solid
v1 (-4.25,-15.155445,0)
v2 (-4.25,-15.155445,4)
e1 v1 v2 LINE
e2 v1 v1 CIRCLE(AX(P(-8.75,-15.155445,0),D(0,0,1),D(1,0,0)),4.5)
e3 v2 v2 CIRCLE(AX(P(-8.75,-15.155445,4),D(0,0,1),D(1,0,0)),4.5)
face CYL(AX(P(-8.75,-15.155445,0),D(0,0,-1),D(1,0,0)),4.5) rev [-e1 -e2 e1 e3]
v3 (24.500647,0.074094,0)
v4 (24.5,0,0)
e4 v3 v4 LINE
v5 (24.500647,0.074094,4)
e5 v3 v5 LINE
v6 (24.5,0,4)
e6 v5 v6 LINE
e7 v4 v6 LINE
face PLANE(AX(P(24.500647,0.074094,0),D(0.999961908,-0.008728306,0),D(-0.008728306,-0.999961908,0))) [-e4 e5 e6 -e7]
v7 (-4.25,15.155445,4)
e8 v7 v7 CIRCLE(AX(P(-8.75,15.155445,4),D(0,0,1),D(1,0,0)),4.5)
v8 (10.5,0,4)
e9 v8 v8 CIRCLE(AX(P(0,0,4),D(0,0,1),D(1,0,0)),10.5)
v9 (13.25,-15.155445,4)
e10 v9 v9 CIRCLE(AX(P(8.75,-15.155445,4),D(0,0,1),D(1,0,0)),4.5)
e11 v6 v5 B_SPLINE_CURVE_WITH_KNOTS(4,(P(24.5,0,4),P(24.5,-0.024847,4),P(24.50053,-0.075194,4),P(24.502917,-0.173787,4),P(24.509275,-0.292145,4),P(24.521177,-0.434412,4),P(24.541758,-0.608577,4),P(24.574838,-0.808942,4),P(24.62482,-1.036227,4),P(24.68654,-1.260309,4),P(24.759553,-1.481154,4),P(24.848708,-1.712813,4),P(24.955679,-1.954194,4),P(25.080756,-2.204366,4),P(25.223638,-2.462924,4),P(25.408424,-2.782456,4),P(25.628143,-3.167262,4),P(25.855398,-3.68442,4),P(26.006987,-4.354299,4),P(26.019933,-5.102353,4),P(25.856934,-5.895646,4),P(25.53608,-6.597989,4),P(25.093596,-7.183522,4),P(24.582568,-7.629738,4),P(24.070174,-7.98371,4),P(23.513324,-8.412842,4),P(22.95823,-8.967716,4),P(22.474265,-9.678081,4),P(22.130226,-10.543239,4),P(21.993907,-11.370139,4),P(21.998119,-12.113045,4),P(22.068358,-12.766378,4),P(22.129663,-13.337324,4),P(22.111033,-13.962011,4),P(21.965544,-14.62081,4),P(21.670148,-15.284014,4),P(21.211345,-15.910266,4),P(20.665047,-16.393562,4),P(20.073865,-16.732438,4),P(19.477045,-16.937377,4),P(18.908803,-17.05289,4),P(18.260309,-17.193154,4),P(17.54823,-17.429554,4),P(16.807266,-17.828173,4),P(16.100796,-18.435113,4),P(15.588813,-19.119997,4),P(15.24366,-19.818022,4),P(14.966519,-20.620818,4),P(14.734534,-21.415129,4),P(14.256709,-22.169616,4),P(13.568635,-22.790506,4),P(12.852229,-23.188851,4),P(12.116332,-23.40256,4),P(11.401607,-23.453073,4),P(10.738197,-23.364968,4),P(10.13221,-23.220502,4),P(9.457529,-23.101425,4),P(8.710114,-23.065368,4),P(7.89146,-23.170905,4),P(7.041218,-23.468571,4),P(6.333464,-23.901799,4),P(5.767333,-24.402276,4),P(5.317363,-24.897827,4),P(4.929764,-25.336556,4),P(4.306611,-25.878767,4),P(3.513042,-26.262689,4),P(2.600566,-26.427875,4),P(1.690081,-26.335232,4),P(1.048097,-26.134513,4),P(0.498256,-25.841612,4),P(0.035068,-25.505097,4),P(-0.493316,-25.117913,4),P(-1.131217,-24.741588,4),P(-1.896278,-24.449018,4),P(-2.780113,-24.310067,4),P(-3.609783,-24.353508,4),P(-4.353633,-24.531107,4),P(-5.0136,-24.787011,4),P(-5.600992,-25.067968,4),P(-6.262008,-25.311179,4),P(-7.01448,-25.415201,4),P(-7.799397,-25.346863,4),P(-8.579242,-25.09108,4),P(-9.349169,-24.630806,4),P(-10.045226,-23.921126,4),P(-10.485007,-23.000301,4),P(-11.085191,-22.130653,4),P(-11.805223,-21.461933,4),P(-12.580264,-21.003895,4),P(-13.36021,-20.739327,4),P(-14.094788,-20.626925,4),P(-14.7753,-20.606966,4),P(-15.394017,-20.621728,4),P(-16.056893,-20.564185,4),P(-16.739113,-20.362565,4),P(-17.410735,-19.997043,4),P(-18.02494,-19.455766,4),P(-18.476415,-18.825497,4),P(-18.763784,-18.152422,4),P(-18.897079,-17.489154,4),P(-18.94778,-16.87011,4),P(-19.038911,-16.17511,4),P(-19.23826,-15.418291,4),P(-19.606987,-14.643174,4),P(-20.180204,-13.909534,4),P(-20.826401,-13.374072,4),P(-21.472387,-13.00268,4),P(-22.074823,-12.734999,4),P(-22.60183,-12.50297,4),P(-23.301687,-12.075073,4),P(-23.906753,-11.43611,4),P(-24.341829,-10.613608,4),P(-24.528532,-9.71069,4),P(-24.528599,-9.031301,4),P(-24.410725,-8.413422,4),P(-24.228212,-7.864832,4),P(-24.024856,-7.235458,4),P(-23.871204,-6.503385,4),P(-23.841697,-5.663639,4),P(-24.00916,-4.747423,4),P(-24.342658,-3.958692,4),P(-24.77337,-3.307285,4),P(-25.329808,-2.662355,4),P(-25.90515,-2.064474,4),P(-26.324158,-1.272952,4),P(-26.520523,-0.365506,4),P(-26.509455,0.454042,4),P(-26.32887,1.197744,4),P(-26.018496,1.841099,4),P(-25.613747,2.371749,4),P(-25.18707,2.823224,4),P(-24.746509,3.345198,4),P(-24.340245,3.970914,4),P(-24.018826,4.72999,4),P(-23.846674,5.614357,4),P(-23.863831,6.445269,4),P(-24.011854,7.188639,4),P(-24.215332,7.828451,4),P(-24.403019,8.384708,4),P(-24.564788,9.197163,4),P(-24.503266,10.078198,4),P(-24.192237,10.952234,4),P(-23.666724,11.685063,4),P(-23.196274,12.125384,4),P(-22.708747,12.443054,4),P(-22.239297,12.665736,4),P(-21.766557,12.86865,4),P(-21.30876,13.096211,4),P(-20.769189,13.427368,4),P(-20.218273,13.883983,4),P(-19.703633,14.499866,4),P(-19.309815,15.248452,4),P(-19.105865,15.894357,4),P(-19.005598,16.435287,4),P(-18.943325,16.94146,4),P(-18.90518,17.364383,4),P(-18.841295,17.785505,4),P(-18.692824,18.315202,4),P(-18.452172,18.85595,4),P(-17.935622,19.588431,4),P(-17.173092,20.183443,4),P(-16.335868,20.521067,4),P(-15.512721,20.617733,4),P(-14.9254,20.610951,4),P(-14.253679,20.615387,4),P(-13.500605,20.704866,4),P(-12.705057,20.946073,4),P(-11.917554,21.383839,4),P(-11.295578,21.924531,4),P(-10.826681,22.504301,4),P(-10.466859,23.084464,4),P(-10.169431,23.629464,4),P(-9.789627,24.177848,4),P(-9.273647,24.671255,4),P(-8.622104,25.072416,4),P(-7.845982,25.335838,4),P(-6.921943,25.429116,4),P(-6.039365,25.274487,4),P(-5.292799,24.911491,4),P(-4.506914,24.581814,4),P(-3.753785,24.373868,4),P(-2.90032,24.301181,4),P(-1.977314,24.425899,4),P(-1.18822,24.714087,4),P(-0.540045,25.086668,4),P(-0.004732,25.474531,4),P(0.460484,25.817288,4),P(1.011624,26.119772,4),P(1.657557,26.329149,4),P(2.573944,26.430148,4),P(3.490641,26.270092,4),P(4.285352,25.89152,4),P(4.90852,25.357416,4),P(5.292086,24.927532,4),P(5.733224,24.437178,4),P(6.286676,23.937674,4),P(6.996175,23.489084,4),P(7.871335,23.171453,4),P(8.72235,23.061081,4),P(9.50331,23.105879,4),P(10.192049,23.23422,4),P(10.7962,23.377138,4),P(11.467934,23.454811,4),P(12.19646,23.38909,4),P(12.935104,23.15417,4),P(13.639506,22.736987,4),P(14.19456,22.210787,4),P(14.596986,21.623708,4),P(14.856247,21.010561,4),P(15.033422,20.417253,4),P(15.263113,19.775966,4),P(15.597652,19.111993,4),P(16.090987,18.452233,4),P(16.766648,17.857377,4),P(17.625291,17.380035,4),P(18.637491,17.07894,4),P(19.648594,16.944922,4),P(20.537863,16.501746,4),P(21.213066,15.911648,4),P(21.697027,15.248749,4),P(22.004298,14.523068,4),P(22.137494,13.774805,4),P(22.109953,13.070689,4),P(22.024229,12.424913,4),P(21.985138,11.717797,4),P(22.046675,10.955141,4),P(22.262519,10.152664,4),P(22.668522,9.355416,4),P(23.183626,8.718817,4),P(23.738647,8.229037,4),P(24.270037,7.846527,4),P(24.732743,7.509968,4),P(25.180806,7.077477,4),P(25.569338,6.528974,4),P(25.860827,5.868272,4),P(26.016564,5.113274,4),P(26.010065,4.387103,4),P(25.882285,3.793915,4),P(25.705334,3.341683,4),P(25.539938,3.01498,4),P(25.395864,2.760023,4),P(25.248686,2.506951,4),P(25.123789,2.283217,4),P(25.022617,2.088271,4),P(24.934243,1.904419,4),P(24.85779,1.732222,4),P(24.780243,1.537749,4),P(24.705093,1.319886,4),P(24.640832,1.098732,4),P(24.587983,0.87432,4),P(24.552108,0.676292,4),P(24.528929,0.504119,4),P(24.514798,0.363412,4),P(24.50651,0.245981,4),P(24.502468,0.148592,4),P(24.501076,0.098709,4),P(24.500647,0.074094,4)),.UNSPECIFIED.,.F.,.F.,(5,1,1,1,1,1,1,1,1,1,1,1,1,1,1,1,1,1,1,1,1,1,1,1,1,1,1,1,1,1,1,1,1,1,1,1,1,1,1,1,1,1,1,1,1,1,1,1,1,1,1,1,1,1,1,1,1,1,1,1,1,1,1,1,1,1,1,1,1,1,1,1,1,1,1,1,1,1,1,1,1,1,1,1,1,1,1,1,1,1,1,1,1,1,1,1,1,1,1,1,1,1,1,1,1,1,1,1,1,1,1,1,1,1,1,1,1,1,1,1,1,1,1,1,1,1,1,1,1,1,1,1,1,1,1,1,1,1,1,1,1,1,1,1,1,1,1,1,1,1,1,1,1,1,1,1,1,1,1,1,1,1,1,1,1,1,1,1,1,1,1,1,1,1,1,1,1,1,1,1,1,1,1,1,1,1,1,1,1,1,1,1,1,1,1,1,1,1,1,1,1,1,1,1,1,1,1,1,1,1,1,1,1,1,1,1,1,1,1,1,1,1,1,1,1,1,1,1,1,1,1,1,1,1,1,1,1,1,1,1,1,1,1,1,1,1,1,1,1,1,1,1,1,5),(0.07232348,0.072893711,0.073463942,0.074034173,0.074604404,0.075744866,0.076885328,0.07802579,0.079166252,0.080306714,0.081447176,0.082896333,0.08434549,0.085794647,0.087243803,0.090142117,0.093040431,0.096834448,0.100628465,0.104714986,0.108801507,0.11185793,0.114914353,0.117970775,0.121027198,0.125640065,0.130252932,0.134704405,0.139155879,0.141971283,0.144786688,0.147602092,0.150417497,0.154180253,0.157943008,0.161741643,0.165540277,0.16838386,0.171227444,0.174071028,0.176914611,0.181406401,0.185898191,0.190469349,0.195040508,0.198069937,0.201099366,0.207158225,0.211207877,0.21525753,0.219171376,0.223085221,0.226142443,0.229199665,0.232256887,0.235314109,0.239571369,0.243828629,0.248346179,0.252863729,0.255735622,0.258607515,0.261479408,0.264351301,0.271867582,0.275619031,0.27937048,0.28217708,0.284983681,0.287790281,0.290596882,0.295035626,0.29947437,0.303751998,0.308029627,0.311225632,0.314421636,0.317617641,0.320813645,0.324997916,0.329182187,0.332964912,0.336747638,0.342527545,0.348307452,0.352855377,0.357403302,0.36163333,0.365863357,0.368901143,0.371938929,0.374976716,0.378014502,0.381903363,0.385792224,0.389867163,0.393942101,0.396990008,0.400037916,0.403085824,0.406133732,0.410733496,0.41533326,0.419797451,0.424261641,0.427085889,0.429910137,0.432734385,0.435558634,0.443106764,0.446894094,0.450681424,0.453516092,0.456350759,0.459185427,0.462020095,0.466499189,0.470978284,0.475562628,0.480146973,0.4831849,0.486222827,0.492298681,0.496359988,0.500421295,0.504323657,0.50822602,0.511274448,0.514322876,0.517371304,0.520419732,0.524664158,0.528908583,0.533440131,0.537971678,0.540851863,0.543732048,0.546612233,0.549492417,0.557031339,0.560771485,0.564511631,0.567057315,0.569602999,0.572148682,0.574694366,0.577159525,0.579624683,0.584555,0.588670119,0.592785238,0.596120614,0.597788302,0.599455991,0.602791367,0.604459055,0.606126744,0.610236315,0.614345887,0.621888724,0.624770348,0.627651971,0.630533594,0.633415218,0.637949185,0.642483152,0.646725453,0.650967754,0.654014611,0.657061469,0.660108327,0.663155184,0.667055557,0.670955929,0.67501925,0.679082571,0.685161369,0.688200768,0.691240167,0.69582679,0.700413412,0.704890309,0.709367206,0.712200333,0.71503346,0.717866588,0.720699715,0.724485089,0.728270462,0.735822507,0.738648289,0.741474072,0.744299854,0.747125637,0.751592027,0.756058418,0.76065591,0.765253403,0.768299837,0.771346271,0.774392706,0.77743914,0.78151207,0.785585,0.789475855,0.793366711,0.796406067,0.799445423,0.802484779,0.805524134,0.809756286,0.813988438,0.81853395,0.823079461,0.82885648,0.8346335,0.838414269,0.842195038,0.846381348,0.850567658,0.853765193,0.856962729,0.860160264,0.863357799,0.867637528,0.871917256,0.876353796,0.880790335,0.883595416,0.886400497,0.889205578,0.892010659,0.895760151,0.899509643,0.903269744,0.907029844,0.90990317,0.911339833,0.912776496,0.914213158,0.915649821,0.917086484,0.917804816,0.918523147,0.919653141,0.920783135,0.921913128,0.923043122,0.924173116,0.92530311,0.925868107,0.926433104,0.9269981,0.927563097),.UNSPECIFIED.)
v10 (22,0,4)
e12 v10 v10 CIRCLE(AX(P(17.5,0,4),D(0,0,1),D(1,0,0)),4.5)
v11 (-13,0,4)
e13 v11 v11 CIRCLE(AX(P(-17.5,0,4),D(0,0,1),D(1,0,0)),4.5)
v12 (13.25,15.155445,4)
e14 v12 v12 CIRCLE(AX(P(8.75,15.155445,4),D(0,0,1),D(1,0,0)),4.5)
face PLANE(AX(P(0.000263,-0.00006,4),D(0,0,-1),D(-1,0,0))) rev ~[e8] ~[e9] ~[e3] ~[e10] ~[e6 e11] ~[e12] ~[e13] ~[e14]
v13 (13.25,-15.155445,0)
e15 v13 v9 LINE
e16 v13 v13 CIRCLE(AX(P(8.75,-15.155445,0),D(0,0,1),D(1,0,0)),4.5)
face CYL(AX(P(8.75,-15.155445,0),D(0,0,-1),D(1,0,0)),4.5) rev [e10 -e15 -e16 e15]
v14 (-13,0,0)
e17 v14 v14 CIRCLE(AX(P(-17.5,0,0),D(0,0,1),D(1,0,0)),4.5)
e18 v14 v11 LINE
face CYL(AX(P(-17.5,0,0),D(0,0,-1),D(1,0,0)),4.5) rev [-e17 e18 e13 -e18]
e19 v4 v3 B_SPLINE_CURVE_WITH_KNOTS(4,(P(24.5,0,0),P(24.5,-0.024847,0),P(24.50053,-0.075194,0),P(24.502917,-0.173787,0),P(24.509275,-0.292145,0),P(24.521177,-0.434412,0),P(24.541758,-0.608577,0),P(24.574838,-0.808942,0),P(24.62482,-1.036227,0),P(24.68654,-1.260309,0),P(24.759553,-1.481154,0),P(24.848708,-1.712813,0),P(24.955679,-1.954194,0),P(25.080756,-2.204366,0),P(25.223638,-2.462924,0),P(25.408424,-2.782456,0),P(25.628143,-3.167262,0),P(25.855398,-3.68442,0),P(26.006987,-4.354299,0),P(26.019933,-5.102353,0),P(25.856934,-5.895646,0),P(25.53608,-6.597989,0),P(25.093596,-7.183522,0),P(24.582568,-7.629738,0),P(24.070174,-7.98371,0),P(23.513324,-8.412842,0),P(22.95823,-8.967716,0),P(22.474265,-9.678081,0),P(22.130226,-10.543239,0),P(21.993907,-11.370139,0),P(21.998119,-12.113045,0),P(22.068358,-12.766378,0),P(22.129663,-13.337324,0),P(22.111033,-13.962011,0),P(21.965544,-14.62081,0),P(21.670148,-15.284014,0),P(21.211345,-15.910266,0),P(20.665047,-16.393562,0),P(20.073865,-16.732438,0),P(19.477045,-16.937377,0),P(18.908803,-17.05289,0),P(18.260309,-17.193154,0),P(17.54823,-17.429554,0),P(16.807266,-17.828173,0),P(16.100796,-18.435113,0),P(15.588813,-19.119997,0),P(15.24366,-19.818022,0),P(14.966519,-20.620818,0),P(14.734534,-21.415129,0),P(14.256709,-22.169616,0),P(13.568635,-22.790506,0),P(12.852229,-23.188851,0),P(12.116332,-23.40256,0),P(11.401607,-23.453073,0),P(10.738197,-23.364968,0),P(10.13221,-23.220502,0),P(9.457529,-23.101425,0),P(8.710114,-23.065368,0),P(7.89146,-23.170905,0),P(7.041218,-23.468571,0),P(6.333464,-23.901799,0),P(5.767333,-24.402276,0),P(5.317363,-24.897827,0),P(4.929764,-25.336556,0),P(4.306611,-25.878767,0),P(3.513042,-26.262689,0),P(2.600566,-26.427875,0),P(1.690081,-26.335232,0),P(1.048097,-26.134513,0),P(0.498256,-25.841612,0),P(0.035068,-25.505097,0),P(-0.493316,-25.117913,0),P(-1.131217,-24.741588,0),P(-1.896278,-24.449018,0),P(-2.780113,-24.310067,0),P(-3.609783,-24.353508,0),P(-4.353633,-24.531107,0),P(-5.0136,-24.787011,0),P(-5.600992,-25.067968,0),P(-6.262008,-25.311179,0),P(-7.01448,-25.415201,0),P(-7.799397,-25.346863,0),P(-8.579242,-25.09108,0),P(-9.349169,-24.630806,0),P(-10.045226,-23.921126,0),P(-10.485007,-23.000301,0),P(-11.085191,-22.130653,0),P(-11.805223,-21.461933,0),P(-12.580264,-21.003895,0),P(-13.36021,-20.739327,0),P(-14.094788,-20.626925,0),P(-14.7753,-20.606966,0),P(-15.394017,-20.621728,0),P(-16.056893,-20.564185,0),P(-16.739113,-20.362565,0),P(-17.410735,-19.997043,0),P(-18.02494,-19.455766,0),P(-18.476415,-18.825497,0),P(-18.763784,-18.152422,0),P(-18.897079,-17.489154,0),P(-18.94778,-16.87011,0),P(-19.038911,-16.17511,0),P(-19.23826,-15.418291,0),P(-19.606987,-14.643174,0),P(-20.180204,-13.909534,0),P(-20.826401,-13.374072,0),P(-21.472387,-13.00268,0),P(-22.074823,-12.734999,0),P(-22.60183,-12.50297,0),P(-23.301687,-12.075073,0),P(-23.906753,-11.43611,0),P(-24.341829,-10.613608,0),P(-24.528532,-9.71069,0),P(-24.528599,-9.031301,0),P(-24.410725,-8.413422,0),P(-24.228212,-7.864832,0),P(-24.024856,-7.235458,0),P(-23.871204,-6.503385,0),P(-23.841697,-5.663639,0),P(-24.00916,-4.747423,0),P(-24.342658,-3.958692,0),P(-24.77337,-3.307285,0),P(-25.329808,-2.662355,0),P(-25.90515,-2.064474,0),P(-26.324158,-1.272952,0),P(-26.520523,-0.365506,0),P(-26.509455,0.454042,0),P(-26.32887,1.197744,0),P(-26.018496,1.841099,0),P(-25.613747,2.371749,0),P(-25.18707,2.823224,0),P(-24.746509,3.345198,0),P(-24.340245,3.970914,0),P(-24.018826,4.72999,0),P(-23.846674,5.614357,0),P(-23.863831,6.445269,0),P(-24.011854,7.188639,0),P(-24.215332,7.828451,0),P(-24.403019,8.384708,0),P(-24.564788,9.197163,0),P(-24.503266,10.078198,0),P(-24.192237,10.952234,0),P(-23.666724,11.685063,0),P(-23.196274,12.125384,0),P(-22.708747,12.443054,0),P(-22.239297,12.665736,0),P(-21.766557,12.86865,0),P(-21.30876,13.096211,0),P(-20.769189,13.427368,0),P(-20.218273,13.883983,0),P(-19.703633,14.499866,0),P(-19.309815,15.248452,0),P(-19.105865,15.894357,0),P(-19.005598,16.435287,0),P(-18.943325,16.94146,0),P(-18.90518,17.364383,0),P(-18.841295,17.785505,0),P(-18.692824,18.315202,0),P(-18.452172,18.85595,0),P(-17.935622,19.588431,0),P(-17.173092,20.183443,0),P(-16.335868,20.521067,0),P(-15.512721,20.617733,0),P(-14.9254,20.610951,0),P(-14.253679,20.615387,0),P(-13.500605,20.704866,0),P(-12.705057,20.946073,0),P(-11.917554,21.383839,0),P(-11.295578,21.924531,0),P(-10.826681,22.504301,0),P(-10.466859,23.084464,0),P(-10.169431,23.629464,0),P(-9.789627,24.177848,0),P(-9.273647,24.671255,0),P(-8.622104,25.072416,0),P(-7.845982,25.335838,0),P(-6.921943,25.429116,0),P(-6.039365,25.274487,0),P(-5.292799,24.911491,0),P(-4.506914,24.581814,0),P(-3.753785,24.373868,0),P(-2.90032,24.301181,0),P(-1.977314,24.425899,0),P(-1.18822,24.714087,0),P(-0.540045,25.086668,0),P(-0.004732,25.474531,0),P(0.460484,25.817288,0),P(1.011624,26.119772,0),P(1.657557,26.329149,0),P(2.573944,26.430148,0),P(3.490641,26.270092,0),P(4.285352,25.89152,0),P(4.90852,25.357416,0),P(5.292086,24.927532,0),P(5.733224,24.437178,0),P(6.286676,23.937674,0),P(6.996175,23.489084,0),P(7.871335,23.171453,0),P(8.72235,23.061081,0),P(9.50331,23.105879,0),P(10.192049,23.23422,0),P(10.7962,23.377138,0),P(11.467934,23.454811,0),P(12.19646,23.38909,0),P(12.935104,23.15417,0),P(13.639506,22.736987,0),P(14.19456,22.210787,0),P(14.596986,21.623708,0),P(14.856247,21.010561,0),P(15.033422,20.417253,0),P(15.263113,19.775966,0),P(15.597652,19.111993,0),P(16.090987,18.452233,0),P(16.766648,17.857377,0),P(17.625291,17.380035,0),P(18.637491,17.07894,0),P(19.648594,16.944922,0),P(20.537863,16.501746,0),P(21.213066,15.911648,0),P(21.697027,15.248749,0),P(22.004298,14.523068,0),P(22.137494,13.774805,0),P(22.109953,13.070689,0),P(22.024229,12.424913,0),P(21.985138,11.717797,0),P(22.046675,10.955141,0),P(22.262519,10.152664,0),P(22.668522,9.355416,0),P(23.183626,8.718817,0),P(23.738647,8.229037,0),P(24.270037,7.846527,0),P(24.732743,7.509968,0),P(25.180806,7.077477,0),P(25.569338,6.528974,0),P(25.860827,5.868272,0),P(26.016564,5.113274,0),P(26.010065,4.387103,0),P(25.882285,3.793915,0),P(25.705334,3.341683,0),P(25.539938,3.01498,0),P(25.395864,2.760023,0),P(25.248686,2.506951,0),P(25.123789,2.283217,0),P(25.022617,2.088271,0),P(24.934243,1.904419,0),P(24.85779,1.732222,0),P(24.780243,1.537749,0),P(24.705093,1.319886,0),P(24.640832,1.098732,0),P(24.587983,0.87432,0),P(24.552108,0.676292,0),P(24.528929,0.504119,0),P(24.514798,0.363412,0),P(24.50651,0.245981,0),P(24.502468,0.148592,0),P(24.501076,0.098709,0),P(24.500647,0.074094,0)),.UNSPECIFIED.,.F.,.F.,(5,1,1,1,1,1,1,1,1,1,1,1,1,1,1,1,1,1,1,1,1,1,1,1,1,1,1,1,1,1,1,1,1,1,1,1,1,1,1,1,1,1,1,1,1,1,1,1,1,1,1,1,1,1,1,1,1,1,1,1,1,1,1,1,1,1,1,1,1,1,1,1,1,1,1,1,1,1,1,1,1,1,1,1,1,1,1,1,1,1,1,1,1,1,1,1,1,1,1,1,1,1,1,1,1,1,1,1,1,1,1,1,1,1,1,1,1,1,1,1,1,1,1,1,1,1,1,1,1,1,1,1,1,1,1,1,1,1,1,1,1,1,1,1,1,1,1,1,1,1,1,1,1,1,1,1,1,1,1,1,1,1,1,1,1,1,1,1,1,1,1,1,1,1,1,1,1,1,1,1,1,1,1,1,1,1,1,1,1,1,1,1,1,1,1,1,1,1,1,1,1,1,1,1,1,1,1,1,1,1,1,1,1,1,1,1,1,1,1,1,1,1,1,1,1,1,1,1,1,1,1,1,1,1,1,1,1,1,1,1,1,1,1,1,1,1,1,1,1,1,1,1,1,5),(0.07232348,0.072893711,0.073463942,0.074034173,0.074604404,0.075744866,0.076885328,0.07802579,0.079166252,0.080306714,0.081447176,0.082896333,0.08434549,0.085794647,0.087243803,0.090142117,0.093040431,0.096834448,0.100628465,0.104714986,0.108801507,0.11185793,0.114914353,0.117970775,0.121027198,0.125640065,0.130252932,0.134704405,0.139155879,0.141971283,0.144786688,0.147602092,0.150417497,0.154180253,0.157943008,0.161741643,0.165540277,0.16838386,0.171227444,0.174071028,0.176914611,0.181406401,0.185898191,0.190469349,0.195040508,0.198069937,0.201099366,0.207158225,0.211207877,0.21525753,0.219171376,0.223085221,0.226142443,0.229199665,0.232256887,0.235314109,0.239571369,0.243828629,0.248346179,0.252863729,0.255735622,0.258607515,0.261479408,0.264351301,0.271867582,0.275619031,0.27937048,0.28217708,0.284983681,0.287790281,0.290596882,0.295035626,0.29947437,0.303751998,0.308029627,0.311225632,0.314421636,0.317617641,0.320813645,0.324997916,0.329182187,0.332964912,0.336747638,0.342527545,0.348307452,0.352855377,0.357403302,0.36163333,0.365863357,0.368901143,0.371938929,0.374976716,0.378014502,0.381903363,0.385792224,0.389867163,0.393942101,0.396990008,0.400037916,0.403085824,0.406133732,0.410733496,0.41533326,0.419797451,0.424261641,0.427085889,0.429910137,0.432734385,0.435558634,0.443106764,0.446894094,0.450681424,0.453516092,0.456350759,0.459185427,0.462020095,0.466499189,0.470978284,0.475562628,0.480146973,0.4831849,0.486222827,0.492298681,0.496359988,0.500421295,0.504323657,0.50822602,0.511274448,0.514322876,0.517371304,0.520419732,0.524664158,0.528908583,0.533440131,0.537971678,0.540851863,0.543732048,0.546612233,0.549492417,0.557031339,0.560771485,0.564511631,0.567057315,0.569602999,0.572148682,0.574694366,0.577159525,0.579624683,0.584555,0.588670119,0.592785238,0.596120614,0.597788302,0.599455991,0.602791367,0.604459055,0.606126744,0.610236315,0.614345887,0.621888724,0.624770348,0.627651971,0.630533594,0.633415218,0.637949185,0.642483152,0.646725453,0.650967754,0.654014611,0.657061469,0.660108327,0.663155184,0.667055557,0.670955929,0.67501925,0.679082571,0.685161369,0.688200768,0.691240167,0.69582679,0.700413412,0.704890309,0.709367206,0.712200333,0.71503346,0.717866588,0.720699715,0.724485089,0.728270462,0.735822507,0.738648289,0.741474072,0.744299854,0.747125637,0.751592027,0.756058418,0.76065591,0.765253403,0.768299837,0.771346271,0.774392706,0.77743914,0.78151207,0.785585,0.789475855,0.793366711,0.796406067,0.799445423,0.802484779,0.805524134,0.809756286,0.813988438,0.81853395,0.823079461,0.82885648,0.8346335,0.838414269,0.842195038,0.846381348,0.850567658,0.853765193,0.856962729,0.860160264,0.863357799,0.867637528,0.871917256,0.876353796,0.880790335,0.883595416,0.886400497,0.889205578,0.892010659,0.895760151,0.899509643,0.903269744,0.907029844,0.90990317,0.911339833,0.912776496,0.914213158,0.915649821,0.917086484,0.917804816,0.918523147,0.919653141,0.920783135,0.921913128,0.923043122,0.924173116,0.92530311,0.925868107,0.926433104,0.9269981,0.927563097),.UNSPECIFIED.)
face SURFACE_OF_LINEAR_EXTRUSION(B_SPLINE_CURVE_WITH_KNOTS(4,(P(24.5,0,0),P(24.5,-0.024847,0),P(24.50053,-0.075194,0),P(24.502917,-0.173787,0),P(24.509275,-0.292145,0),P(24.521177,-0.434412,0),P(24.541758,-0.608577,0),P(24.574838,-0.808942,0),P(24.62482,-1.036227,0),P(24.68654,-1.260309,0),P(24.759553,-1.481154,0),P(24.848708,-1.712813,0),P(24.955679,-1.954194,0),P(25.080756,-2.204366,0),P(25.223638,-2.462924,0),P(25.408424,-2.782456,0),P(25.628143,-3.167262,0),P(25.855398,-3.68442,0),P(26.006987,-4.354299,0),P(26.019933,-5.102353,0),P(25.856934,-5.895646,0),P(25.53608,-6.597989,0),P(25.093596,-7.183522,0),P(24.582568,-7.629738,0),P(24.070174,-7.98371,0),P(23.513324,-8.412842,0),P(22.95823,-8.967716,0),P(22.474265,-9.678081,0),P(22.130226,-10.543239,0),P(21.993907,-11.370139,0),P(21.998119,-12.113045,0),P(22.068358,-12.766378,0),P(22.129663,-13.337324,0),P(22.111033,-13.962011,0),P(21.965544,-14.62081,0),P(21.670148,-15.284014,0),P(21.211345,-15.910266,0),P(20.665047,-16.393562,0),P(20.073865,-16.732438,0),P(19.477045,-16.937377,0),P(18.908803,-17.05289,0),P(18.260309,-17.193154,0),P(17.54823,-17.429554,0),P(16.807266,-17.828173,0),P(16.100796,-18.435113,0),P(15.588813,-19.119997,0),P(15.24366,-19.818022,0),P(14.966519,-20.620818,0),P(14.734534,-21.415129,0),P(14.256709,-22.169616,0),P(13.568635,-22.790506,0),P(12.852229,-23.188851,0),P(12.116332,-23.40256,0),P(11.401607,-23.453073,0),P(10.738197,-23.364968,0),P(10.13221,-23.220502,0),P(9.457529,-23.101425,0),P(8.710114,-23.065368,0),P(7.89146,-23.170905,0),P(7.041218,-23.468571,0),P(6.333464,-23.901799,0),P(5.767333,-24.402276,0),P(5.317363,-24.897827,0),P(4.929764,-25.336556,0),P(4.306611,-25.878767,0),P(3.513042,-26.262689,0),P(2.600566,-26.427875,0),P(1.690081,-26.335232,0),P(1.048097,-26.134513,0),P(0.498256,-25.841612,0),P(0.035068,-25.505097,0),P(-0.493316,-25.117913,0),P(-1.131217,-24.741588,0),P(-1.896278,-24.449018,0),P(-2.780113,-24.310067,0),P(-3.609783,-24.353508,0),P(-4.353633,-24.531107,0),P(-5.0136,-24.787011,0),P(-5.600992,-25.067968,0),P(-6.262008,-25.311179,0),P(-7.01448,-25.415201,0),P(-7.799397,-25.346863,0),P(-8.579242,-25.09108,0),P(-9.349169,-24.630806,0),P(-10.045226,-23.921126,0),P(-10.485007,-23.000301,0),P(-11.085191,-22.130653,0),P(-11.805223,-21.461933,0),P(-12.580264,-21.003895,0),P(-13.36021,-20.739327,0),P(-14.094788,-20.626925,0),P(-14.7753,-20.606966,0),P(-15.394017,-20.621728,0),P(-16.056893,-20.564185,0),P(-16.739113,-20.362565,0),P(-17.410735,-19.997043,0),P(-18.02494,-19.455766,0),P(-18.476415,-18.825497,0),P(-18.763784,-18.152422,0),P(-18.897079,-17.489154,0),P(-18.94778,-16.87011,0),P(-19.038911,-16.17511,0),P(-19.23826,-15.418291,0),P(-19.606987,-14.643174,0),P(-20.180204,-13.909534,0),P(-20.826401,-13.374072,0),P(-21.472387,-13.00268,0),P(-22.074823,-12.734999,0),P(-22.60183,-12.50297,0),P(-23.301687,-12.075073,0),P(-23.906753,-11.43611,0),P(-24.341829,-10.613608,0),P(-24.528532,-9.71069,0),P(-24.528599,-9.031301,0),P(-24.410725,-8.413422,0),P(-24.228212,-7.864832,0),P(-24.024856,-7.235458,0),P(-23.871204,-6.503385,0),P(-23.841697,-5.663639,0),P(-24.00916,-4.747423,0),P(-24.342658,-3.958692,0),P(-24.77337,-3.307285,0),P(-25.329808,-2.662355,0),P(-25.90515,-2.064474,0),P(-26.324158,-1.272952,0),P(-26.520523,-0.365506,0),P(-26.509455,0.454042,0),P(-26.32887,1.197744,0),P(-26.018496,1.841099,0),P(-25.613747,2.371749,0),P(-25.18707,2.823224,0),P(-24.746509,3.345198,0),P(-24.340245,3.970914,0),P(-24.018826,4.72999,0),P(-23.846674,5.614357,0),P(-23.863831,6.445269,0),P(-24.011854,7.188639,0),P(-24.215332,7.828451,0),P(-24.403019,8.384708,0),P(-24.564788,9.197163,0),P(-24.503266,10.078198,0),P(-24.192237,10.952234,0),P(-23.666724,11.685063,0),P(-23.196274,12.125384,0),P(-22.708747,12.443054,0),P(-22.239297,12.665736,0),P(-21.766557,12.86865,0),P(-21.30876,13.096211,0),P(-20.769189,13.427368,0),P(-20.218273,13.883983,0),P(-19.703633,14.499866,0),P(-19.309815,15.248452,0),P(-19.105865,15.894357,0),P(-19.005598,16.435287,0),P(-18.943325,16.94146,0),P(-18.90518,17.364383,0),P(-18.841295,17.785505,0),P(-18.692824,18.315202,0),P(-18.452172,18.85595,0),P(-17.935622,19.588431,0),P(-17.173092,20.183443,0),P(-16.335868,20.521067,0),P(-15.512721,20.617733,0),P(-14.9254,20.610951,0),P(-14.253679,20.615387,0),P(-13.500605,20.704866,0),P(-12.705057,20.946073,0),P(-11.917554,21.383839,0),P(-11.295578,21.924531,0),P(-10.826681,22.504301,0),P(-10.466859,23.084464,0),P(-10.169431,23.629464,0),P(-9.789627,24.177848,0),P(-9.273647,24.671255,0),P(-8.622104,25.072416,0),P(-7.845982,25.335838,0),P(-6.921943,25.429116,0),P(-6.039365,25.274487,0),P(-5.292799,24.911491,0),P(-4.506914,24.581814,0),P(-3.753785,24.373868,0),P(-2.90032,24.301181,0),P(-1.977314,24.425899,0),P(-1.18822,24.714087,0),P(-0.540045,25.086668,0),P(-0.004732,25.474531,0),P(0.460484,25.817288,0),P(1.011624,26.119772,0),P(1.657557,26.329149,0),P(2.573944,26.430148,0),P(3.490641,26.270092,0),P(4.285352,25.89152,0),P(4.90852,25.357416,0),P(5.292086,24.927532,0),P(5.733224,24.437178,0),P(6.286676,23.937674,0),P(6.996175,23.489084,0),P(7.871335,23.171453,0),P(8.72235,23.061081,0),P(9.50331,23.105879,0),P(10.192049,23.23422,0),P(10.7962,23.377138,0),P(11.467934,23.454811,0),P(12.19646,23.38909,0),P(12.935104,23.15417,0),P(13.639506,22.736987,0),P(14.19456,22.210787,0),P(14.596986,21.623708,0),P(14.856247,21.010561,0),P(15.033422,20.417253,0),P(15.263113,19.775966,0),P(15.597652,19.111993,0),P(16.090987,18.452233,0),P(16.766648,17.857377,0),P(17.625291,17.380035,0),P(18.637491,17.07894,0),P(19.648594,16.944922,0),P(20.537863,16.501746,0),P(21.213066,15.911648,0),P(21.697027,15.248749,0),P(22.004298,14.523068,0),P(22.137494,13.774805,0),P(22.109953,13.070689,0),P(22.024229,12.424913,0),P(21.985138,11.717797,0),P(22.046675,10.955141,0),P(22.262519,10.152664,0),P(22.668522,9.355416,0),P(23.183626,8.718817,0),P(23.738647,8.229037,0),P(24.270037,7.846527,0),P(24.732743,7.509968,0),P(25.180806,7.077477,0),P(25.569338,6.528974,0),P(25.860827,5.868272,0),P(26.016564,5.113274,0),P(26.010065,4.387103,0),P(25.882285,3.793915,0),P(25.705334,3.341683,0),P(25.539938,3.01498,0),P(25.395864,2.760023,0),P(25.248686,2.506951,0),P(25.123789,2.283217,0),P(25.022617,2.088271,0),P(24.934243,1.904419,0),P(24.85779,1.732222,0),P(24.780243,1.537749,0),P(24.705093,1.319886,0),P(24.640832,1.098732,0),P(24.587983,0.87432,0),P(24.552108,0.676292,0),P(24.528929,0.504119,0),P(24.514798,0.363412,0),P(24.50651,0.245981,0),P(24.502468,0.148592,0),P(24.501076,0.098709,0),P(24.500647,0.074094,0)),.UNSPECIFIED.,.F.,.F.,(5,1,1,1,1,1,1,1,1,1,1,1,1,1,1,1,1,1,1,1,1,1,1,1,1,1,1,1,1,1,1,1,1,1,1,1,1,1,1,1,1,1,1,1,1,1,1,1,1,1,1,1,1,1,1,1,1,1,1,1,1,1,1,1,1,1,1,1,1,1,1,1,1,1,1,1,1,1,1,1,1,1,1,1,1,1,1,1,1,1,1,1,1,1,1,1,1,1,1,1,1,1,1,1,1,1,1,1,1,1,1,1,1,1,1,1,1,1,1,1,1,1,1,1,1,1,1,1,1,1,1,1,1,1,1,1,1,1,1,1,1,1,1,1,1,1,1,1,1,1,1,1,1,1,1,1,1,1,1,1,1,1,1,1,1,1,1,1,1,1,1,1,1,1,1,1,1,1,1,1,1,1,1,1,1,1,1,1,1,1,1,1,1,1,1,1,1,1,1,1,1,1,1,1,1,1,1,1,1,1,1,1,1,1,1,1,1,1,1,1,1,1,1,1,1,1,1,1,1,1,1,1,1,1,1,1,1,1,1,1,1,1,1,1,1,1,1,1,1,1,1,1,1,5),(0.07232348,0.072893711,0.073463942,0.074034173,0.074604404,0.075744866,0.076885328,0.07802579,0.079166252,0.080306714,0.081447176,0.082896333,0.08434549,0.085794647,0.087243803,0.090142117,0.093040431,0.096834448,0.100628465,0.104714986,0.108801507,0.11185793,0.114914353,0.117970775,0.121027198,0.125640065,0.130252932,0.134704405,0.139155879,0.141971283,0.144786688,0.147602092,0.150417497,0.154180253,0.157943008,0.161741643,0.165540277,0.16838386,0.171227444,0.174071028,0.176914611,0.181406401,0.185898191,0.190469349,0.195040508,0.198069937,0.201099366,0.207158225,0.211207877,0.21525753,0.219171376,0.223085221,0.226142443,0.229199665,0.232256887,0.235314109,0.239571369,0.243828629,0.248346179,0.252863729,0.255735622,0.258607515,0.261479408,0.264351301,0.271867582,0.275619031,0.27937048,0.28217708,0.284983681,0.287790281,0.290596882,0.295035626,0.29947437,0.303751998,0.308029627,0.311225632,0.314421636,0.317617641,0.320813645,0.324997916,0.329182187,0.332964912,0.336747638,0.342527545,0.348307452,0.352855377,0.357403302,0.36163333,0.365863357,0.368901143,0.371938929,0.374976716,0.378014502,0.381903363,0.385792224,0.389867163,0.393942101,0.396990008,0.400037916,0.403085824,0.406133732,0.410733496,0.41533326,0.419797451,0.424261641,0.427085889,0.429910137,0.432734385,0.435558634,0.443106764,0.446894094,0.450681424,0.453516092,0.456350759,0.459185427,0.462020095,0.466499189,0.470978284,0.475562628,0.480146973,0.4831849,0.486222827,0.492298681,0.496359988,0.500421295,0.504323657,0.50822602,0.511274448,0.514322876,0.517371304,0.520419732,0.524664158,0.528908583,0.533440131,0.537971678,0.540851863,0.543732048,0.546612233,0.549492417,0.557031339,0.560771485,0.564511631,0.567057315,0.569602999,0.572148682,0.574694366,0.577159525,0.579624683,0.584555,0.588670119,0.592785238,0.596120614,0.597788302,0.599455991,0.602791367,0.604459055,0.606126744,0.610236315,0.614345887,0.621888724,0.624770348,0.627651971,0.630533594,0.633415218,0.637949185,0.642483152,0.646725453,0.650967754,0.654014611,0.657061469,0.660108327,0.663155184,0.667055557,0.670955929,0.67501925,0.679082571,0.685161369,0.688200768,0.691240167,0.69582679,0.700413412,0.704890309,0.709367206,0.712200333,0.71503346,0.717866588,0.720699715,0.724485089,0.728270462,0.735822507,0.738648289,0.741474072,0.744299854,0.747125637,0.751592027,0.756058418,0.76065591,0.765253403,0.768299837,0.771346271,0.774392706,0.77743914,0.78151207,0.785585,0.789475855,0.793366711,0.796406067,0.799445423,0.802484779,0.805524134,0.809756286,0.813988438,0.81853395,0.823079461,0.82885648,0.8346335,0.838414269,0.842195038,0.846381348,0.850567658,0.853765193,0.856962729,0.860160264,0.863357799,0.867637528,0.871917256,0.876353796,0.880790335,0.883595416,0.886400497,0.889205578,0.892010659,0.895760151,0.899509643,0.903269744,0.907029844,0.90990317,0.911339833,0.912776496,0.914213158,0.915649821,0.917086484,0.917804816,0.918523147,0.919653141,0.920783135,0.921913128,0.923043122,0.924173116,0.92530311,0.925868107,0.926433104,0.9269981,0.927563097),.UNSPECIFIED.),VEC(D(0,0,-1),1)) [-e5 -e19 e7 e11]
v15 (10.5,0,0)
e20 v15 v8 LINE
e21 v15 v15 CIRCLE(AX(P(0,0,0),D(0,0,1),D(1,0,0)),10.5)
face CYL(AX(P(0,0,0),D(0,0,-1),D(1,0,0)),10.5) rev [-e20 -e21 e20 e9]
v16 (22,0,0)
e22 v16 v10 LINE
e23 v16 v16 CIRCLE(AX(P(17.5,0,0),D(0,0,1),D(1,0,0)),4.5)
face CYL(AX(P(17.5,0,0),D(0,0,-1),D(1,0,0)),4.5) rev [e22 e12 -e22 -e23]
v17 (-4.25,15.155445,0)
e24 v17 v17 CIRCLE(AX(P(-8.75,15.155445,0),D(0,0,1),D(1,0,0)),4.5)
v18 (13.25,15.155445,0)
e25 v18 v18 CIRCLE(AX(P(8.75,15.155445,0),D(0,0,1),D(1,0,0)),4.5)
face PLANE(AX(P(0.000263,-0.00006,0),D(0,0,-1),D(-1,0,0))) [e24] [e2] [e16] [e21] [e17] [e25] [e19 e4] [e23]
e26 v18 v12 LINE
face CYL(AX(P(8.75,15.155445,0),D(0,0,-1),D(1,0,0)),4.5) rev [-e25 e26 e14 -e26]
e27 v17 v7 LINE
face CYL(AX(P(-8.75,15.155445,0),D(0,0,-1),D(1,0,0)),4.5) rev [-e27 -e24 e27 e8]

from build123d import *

# Parameters (mm, degrees)
SKETCH1_R           = 10.5
SKETCH1_R_2         = 4.5
BOSS_EXTRUDE1_DEPTH = 4


with BuildPart() as part:
    # Sketch1 → Boss-Extrude1 (new body)
    with BuildSketch(Plane.XY):
        with BuildLine():
            add(Edge.make_bspline(
                [(24.5, 0), (24.5, -0.024846987), (24.500530338, -0.075194401), (24.50291679, -0.173786515), (24.509274948, -0.29214513), (24.521177418, -0.434411522), (24.54175831, -0.608576755), (24.574837679, -0.808942457), (24.624819774, -1.036226563), (24.686539525, -1.260308661), (24.759553431, -1.48115363), (24.848707865, -1.712813104), (24.955678708, -1.954193667), (25.080756319, -2.20436619), (25.223638262, -2.462923732), (25.408424272, -2.782456402), (25.6281432, -3.167261904), (25.855398242, -3.684420043), (26.006987174, -4.354298717), (26.019933256, -5.102352687), (25.856933668, -5.895646173), (25.536080158, -6.597988726), (25.093596332, -7.183522075), (24.582567853, -7.629737789), (24.070173725, -7.983710188), (23.513324133, -8.412842238), (22.958230209, -8.967716254), (22.474264984, -9.678081163), (22.130226177, -10.543239152), (21.993907003, -11.370138923), (21.998118659, -12.113045475), (22.068358348, -12.766377731), (22.129662544, -13.33732376), (22.111032869, -13.962010711), (21.96554356, -14.620809556), (21.670147849, -15.284014121), (21.211345442, -15.910265551), (20.665047379, -16.393562255), (20.073865224, -16.732437681), (19.477045246, -16.937377429), (18.908803357, -17.052890239), (18.260308622, -17.19315449), (17.548230022, -17.429553634), (16.8072659, -17.828173244), (16.100796107, -18.435113156), (15.588812897, -19.119996972), (15.243660204, -19.818021591), (14.966518539, -20.620817614), (14.734533771, -21.415128569), (14.256708506, -22.169615597), (13.56863508, -22.790505876), (12.852229142, -23.188851288), (12.116331984, -23.402559543), (11.401606548, -23.45307254), (10.738196691, -23.364967856), (10.132209544, -23.220501907), (9.457529462, -23.10142469), (8.710113662, -23.065367811), (7.891459976, -23.170904732), (7.041217877, -23.468571472), (6.333464053, -23.901799253), (5.767333358, -24.402275639), (5.317363461, -24.897826901), (4.929764189, -25.336555696), (4.306611073, -25.878766754), (3.513042387, -26.262689198), (2.600566015, -26.427874936), (1.690080739, -26.335232493), (1.048096736, -26.134513287), (0.498255931, -25.841611842), (0.035068054, -25.505096621), (-0.493315559, -25.117912551), (-1.131217323, -24.741588228), (-1.896278453, -24.449018457), (-2.780113174, -24.310066716), (-3.609783394, -24.35350812), (-4.353632868, -24.531106969), (-5.013600198, -24.787011375), (-5.600992225, -25.067967975), (-6.262008402, -25.311178952), (-7.014479991, -25.415201127), (-7.799396849, -25.346863203), (-8.579241596, -25.091080416), (-9.349169254, -24.630805538), (-10.045226058, -23.921126094), (-10.485007412, -23.000301434), (-11.085191287, -22.130652544), (-11.805222942, -21.46193302), (-12.580264419, -21.003894567), (-13.360210466, -20.739326696), (-14.09478796, -20.626924641), (-14.775300264, -20.606965587), (-15.394017356, -20.621727567), (-16.056893496, -20.564184984), (-16.739113489, -20.362564906), (-17.41073524, -19.997042715), (-18.024940221, -19.455766311), (-18.476414838, -18.825496525), (-18.763784027, -18.152422462), (-18.89707884, -17.48915369), (-18.947779876, -16.870109764), (-19.038911063, -16.175109526), (-19.238259856, -15.418290771), (-19.606986858, -14.643174238), (-20.18020372, -13.90953429), (-20.826401419, -13.374072362), (-21.472386849, -13.002680154), (-22.074822584, -12.734998799), (-22.601829588, -12.502970307), (-23.301686752, -12.075072879), (-23.906752826, -11.436109641), (-24.341829491, -10.613608191), (-24.528532128, -9.710690225), (-24.528598524, -9.031300515), (-24.410724594, -8.41342201), (-24.228211519, -7.864831664), (-24.024855797, -7.235458394), (-23.871203676, -6.503384831), (-23.841697229, -5.663639091), (-24.009160199, -4.747423307), (-24.34265786, -3.958692032), (-24.773369642, -3.30728546), (-25.329808123, -2.66235459), (-25.905150217, -2.064473818), (-26.324158361, -1.272952099), (-26.520523124, -0.365506271), (-26.509455078, 0.45404159), (-26.328870168, 1.197744088), (-26.01849623, 1.841098807), (-25.613746564, 2.37174893), (-25.187070334, 2.82322433), (-24.746508684, 3.345198323), (-24.340244741, 3.970913665), (-24.018825831, 4.729990071), (-23.84667446, 5.614357291), (-23.863830991, 6.44526868), (-24.011854338, 7.188638942), (-24.215331554, 7.82845133), (-24.403018606, 8.384707832), (-24.564787805, 9.197163335), (-24.503266335, 10.078197816), (-24.192237051, 10.952234106), (-23.66672377, 11.685062977), (-23.196274064, 12.125383946), (-22.70874682, 12.443053561), (-22.239297157, 12.665735651), (-21.766557231, 12.868650017), (-21.308760084, 13.096211328), (-20.769188781, 13.427367552), (-20.218272947, 13.883982848), (-19.703632958, 14.499866249), (-19.309814552, 15.248452307), (-19.105865443, 15.89435674), (-19.005598257, 16.435287333), (-18.943324824, 16.941460148), (-18.90517994, 17.364382656), (-18.841295446, 17.785504765), (-18.692824294, 18.315201575), (-18.452172268, 18.85594961), (-17.935621591, 19.588431318), (-17.173092267, 20.183443105), (-16.33586778, 20.521067472), (-15.51272142, 20.617732928), (-14.925400468, 20.610950829), (-14.253679169, 20.61538697), (-13.50060545, 20.70486562), (-12.705057201, 20.946072875), (-11.917554416, 21.383839213), (-11.295577567, 21.924530847), (-10.82668108, 22.504301224), (-10.466859064, 23.084463536), (-10.169430942, 23.629464168), (-9.789627277, 24.17784829), (-9.273647183, 24.671254856), (-8.622103567, 25.07241601), (-7.845982087, 25.335837753), (-6.921942529, 25.429116084), (-6.0393649, 25.274486775), (-5.292798764, 24.911490687), (-4.506913935, 24.581814076), (-3.75378545, 24.37386786), (-2.900320227, 24.301181291), (-1.97731353, 24.425898628), (-1.188220181, 24.714086919), (-0.540044783, 25.086668311), (-0.004731574, 25.474531257), (0.460484062, 25.8172881), (1.01162377, 26.119772117), (1.657557492, 26.329149371), (2.573943654, 26.430147948), (3.490641352, 26.270092065), (4.28535213, 25.891520095), (4.908519935, 25.357415925), (5.2920863, 24.927532255), (5.733223868, 24.437178396), (6.286675538, 23.937674282), (6.996174911, 23.489083542), (7.871335177, 23.171452538), (8.722349523, 23.061080561), (9.503309752, 23.105879462), (10.192048906, 23.234219902), (10.796200073, 23.377137608), (11.46793397, 23.454811406), (12.196459873, 23.389089793), (12.935104133, 23.154170474), (13.639506186, 22.736986911), (14.194559804, 22.210786804), (14.596985619, 21.623707865), (14.856246644, 21.010560693), (15.033422041, 20.417253168), (15.263113413, 19.775966089), (15.597652072, 19.111993017), (16.090987247, 18.452232837), (16.766647759, 17.857377165), (17.625291331, 17.380034625), (18.637490698, 17.078940455), (19.648593587, 16.944922211), (20.537863374, 16.501745724), (21.213065808, 15.91164787), (21.697026504, 15.248748561), (22.004297527, 14.52306792), (22.137494029, 13.774804862), (22.10995316, 13.070689013), (22.024229213, 12.424913397), (21.985137591, 11.717797118), (22.046674745, 10.95514065), (22.262518604, 10.152664038), (22.668521855, 9.355415963), (23.183626392, 8.718816769), (23.738647044, 8.229036886), (24.270036545, 7.846527019), (24.732743487, 7.50996843), (25.180806286, 7.077476549), (25.569337788, 6.528973775), (25.860826706, 5.868272332), (26.016563531, 5.113273998), (26.010065193, 4.387102507), (25.882284937, 3.793914557), (25.705334141, 3.341682725), (25.539938197, 3.014979702), (25.395863813, 2.760023407), (25.248685575, 2.506951407), (25.123789171, 2.283217044), (25.02261731, 2.088270966), (24.934243474, 1.904419233), (24.857789901, 1.732222285), (24.780242563, 1.537749472), (24.705093047, 1.319886412), (24.640831683, 1.098732002), (24.58798279, 0.874319575), (24.552108419, 0.67629238), (24.528928594, 0.504119113), (24.51479811, 0.363411721), (24.506510274, 0.245981251), (24.502467935, 0.148591581), (24.501076472, 0.098709425), (24.500646742, 0.074094256)],
                knots=[0.07232348, 0.07232348, 0.07232348, 0.07232348, 0.07232348, 0.072893711, 0.073463942, 0.074034173, 0.074604404, 0.075744866, 0.076885328, 0.07802579, 0.079166252, 0.080306714, 0.081447176, 0.082896333, 0.08434549, 0.085794647, 0.087243803, 0.090142117, 0.093040431, 0.096834448, 0.100628465, 0.104714986, 0.108801507, 0.11185793, 0.114914353, 0.117970775, 0.121027198, 0.125640065, 0.130252932, 0.134704405, 0.139155879, 0.141971283, 0.144786688, 0.147602092, 0.150417497, 0.154180253, 0.157943008, 0.161741643, 0.165540277, 0.16838386, 0.171227444, 0.174071028, 0.176914611, 0.181406401, 0.185898191, 0.190469349, 0.195040508, 0.198069937, 0.201099366, 0.207158225, 0.211207877, 0.21525753, 0.219171376, 0.223085221, 0.226142443, 0.229199665, 0.232256887, 0.235314109, 0.239571369, 0.243828629, 0.248346179, 0.252863729, 0.255735622, 0.258607515, 0.261479408, 0.264351301, 0.271867582, 0.275619031, 0.27937048, 0.28217708, 0.284983681, 0.287790281, 0.290596882, 0.295035626, 0.29947437, 0.303751998, 0.308029627, 0.311225632, 0.314421636, 0.317617641, 0.320813645, 0.324997916, 0.329182187, 0.332964912, 0.336747638, 0.342527545, 0.348307452, 0.352855377, 0.357403302, 0.36163333, 0.365863357, 0.368901143, 0.371938929, 0.374976716, 0.378014502, 0.381903363, 0.385792224, 0.389867163, 0.393942101, 0.396990008, 0.400037916, 0.403085824, 0.406133732, 0.410733496, 0.41533326, 0.419797451, 0.424261641, 0.427085889, 0.429910137, 0.432734385, 0.435558634, 0.443106764, 0.446894094, 0.450681424, 0.453516092, 0.456350759, 0.459185427, 0.462020095, 0.466499189, 0.470978284, 0.475562628, 0.480146973, 0.4831849, 0.486222827, 0.492298681, 0.496359988, 0.500421295, 0.504323657, 0.50822602, 0.511274448, 0.514322876, 0.517371304, 0.520419732, 0.524664158, 0.528908583, 0.533440131, 0.537971678, 0.540851863, 0.543732048, 0.546612233, 0.549492417, 0.557031339, 0.560771485, 0.564511631, 0.567057315, 0.569602999, 0.572148682, 0.574694366, 0.577159525, 0.579624683, 0.584555, 0.588670119, 0.592785238, 0.596120614, 0.597788302, 0.599455991, 0.602791367, 0.604459055, 0.606126744, 0.610236315, 0.614345887, 0.621888724, 0.624770348, 0.627651971, 0.630533594, 0.633415218, 0.637949185, 0.642483152, 0.646725453, 0.650967754, 0.654014611, 0.657061469, 0.660108327, 0.663155184, 0.667055557, 0.670955929, 0.67501925, 0.679082571, 0.685161369, 0.688200768, 0.691240167, 0.69582679, 0.700413412, 0.704890309, 0.709367206, 0.712200333, 0.71503346, 0.717866588, 0.720699715, 0.724485089, 0.728270462, 0.735822507, 0.738648289, 0.741474072, 0.744299854, 0.747125637, 0.751592027, 0.756058418, 0.76065591, 0.765253403, 0.768299837, 0.771346271, 0.774392706, 0.77743914, 0.78151207, 0.785585, 0.789475855, 0.793366711, 0.796406067, 0.799445423, 0.802484779, 0.805524134, 0.809756286, 0.813988438, 0.81853395, 0.823079461, 0.82885648, 0.8346335, 0.838414269, 0.842195038, 0.846381348, 0.850567658, 0.853765193, 0.856962729, 0.860160264, 0.863357799, 0.867637528, 0.871917256, 0.876353796, 0.880790335, 0.883595416, 0.886400497, 0.889205578, 0.892010659, 0.895760151, 0.899509643, 0.903269744, 0.907029844, 0.90990317, 0.911339833, 0.912776496, 0.914213158, 0.915649821, 0.917086484, 0.917804816, 0.918523147, 0.919653141, 0.920783135, 0.921913128, 0.923043122, 0.924173116, 0.92530311, 0.925868107, 0.926433104, 0.9269981, 0.927563097, 0.927563097, 0.927563097, 0.927563097, 0.927563097], degree=4))
            Line((24.500646742, 0.074094256), (24.5, 0))
        make_face()
        Circle(SKETCH1_R, mode=Mode.SUBTRACT)
        with Locations((17.5, 0)):
            Circle(SKETCH1_R_2, mode=Mode.SUBTRACT)
        with Locations((8.75, -15.155444566)):
            Circle(SKETCH1_R_2, mode=Mode.SUBTRACT)
        with Locations((-8.75, -15.155444566)):
            Circle(SKETCH1_R_2, mode=Mode.SUBTRACT)
        with Locations((-17.5, 0)):
            Circle(SKETCH1_R_2, mode=Mode.SUBTRACT)
        with Locations((-8.75, 15.155444566)):
            Circle(SKETCH1_R_2, mode=Mode.SUBTRACT)
        with Locations((8.75, 15.155444566)):
            Circle(SKETCH1_R_2, mode=Mode.SUBTRACT)
    extrude(amount=BOSS_EXTRUDE1_DEPTH)


solid = part.part
